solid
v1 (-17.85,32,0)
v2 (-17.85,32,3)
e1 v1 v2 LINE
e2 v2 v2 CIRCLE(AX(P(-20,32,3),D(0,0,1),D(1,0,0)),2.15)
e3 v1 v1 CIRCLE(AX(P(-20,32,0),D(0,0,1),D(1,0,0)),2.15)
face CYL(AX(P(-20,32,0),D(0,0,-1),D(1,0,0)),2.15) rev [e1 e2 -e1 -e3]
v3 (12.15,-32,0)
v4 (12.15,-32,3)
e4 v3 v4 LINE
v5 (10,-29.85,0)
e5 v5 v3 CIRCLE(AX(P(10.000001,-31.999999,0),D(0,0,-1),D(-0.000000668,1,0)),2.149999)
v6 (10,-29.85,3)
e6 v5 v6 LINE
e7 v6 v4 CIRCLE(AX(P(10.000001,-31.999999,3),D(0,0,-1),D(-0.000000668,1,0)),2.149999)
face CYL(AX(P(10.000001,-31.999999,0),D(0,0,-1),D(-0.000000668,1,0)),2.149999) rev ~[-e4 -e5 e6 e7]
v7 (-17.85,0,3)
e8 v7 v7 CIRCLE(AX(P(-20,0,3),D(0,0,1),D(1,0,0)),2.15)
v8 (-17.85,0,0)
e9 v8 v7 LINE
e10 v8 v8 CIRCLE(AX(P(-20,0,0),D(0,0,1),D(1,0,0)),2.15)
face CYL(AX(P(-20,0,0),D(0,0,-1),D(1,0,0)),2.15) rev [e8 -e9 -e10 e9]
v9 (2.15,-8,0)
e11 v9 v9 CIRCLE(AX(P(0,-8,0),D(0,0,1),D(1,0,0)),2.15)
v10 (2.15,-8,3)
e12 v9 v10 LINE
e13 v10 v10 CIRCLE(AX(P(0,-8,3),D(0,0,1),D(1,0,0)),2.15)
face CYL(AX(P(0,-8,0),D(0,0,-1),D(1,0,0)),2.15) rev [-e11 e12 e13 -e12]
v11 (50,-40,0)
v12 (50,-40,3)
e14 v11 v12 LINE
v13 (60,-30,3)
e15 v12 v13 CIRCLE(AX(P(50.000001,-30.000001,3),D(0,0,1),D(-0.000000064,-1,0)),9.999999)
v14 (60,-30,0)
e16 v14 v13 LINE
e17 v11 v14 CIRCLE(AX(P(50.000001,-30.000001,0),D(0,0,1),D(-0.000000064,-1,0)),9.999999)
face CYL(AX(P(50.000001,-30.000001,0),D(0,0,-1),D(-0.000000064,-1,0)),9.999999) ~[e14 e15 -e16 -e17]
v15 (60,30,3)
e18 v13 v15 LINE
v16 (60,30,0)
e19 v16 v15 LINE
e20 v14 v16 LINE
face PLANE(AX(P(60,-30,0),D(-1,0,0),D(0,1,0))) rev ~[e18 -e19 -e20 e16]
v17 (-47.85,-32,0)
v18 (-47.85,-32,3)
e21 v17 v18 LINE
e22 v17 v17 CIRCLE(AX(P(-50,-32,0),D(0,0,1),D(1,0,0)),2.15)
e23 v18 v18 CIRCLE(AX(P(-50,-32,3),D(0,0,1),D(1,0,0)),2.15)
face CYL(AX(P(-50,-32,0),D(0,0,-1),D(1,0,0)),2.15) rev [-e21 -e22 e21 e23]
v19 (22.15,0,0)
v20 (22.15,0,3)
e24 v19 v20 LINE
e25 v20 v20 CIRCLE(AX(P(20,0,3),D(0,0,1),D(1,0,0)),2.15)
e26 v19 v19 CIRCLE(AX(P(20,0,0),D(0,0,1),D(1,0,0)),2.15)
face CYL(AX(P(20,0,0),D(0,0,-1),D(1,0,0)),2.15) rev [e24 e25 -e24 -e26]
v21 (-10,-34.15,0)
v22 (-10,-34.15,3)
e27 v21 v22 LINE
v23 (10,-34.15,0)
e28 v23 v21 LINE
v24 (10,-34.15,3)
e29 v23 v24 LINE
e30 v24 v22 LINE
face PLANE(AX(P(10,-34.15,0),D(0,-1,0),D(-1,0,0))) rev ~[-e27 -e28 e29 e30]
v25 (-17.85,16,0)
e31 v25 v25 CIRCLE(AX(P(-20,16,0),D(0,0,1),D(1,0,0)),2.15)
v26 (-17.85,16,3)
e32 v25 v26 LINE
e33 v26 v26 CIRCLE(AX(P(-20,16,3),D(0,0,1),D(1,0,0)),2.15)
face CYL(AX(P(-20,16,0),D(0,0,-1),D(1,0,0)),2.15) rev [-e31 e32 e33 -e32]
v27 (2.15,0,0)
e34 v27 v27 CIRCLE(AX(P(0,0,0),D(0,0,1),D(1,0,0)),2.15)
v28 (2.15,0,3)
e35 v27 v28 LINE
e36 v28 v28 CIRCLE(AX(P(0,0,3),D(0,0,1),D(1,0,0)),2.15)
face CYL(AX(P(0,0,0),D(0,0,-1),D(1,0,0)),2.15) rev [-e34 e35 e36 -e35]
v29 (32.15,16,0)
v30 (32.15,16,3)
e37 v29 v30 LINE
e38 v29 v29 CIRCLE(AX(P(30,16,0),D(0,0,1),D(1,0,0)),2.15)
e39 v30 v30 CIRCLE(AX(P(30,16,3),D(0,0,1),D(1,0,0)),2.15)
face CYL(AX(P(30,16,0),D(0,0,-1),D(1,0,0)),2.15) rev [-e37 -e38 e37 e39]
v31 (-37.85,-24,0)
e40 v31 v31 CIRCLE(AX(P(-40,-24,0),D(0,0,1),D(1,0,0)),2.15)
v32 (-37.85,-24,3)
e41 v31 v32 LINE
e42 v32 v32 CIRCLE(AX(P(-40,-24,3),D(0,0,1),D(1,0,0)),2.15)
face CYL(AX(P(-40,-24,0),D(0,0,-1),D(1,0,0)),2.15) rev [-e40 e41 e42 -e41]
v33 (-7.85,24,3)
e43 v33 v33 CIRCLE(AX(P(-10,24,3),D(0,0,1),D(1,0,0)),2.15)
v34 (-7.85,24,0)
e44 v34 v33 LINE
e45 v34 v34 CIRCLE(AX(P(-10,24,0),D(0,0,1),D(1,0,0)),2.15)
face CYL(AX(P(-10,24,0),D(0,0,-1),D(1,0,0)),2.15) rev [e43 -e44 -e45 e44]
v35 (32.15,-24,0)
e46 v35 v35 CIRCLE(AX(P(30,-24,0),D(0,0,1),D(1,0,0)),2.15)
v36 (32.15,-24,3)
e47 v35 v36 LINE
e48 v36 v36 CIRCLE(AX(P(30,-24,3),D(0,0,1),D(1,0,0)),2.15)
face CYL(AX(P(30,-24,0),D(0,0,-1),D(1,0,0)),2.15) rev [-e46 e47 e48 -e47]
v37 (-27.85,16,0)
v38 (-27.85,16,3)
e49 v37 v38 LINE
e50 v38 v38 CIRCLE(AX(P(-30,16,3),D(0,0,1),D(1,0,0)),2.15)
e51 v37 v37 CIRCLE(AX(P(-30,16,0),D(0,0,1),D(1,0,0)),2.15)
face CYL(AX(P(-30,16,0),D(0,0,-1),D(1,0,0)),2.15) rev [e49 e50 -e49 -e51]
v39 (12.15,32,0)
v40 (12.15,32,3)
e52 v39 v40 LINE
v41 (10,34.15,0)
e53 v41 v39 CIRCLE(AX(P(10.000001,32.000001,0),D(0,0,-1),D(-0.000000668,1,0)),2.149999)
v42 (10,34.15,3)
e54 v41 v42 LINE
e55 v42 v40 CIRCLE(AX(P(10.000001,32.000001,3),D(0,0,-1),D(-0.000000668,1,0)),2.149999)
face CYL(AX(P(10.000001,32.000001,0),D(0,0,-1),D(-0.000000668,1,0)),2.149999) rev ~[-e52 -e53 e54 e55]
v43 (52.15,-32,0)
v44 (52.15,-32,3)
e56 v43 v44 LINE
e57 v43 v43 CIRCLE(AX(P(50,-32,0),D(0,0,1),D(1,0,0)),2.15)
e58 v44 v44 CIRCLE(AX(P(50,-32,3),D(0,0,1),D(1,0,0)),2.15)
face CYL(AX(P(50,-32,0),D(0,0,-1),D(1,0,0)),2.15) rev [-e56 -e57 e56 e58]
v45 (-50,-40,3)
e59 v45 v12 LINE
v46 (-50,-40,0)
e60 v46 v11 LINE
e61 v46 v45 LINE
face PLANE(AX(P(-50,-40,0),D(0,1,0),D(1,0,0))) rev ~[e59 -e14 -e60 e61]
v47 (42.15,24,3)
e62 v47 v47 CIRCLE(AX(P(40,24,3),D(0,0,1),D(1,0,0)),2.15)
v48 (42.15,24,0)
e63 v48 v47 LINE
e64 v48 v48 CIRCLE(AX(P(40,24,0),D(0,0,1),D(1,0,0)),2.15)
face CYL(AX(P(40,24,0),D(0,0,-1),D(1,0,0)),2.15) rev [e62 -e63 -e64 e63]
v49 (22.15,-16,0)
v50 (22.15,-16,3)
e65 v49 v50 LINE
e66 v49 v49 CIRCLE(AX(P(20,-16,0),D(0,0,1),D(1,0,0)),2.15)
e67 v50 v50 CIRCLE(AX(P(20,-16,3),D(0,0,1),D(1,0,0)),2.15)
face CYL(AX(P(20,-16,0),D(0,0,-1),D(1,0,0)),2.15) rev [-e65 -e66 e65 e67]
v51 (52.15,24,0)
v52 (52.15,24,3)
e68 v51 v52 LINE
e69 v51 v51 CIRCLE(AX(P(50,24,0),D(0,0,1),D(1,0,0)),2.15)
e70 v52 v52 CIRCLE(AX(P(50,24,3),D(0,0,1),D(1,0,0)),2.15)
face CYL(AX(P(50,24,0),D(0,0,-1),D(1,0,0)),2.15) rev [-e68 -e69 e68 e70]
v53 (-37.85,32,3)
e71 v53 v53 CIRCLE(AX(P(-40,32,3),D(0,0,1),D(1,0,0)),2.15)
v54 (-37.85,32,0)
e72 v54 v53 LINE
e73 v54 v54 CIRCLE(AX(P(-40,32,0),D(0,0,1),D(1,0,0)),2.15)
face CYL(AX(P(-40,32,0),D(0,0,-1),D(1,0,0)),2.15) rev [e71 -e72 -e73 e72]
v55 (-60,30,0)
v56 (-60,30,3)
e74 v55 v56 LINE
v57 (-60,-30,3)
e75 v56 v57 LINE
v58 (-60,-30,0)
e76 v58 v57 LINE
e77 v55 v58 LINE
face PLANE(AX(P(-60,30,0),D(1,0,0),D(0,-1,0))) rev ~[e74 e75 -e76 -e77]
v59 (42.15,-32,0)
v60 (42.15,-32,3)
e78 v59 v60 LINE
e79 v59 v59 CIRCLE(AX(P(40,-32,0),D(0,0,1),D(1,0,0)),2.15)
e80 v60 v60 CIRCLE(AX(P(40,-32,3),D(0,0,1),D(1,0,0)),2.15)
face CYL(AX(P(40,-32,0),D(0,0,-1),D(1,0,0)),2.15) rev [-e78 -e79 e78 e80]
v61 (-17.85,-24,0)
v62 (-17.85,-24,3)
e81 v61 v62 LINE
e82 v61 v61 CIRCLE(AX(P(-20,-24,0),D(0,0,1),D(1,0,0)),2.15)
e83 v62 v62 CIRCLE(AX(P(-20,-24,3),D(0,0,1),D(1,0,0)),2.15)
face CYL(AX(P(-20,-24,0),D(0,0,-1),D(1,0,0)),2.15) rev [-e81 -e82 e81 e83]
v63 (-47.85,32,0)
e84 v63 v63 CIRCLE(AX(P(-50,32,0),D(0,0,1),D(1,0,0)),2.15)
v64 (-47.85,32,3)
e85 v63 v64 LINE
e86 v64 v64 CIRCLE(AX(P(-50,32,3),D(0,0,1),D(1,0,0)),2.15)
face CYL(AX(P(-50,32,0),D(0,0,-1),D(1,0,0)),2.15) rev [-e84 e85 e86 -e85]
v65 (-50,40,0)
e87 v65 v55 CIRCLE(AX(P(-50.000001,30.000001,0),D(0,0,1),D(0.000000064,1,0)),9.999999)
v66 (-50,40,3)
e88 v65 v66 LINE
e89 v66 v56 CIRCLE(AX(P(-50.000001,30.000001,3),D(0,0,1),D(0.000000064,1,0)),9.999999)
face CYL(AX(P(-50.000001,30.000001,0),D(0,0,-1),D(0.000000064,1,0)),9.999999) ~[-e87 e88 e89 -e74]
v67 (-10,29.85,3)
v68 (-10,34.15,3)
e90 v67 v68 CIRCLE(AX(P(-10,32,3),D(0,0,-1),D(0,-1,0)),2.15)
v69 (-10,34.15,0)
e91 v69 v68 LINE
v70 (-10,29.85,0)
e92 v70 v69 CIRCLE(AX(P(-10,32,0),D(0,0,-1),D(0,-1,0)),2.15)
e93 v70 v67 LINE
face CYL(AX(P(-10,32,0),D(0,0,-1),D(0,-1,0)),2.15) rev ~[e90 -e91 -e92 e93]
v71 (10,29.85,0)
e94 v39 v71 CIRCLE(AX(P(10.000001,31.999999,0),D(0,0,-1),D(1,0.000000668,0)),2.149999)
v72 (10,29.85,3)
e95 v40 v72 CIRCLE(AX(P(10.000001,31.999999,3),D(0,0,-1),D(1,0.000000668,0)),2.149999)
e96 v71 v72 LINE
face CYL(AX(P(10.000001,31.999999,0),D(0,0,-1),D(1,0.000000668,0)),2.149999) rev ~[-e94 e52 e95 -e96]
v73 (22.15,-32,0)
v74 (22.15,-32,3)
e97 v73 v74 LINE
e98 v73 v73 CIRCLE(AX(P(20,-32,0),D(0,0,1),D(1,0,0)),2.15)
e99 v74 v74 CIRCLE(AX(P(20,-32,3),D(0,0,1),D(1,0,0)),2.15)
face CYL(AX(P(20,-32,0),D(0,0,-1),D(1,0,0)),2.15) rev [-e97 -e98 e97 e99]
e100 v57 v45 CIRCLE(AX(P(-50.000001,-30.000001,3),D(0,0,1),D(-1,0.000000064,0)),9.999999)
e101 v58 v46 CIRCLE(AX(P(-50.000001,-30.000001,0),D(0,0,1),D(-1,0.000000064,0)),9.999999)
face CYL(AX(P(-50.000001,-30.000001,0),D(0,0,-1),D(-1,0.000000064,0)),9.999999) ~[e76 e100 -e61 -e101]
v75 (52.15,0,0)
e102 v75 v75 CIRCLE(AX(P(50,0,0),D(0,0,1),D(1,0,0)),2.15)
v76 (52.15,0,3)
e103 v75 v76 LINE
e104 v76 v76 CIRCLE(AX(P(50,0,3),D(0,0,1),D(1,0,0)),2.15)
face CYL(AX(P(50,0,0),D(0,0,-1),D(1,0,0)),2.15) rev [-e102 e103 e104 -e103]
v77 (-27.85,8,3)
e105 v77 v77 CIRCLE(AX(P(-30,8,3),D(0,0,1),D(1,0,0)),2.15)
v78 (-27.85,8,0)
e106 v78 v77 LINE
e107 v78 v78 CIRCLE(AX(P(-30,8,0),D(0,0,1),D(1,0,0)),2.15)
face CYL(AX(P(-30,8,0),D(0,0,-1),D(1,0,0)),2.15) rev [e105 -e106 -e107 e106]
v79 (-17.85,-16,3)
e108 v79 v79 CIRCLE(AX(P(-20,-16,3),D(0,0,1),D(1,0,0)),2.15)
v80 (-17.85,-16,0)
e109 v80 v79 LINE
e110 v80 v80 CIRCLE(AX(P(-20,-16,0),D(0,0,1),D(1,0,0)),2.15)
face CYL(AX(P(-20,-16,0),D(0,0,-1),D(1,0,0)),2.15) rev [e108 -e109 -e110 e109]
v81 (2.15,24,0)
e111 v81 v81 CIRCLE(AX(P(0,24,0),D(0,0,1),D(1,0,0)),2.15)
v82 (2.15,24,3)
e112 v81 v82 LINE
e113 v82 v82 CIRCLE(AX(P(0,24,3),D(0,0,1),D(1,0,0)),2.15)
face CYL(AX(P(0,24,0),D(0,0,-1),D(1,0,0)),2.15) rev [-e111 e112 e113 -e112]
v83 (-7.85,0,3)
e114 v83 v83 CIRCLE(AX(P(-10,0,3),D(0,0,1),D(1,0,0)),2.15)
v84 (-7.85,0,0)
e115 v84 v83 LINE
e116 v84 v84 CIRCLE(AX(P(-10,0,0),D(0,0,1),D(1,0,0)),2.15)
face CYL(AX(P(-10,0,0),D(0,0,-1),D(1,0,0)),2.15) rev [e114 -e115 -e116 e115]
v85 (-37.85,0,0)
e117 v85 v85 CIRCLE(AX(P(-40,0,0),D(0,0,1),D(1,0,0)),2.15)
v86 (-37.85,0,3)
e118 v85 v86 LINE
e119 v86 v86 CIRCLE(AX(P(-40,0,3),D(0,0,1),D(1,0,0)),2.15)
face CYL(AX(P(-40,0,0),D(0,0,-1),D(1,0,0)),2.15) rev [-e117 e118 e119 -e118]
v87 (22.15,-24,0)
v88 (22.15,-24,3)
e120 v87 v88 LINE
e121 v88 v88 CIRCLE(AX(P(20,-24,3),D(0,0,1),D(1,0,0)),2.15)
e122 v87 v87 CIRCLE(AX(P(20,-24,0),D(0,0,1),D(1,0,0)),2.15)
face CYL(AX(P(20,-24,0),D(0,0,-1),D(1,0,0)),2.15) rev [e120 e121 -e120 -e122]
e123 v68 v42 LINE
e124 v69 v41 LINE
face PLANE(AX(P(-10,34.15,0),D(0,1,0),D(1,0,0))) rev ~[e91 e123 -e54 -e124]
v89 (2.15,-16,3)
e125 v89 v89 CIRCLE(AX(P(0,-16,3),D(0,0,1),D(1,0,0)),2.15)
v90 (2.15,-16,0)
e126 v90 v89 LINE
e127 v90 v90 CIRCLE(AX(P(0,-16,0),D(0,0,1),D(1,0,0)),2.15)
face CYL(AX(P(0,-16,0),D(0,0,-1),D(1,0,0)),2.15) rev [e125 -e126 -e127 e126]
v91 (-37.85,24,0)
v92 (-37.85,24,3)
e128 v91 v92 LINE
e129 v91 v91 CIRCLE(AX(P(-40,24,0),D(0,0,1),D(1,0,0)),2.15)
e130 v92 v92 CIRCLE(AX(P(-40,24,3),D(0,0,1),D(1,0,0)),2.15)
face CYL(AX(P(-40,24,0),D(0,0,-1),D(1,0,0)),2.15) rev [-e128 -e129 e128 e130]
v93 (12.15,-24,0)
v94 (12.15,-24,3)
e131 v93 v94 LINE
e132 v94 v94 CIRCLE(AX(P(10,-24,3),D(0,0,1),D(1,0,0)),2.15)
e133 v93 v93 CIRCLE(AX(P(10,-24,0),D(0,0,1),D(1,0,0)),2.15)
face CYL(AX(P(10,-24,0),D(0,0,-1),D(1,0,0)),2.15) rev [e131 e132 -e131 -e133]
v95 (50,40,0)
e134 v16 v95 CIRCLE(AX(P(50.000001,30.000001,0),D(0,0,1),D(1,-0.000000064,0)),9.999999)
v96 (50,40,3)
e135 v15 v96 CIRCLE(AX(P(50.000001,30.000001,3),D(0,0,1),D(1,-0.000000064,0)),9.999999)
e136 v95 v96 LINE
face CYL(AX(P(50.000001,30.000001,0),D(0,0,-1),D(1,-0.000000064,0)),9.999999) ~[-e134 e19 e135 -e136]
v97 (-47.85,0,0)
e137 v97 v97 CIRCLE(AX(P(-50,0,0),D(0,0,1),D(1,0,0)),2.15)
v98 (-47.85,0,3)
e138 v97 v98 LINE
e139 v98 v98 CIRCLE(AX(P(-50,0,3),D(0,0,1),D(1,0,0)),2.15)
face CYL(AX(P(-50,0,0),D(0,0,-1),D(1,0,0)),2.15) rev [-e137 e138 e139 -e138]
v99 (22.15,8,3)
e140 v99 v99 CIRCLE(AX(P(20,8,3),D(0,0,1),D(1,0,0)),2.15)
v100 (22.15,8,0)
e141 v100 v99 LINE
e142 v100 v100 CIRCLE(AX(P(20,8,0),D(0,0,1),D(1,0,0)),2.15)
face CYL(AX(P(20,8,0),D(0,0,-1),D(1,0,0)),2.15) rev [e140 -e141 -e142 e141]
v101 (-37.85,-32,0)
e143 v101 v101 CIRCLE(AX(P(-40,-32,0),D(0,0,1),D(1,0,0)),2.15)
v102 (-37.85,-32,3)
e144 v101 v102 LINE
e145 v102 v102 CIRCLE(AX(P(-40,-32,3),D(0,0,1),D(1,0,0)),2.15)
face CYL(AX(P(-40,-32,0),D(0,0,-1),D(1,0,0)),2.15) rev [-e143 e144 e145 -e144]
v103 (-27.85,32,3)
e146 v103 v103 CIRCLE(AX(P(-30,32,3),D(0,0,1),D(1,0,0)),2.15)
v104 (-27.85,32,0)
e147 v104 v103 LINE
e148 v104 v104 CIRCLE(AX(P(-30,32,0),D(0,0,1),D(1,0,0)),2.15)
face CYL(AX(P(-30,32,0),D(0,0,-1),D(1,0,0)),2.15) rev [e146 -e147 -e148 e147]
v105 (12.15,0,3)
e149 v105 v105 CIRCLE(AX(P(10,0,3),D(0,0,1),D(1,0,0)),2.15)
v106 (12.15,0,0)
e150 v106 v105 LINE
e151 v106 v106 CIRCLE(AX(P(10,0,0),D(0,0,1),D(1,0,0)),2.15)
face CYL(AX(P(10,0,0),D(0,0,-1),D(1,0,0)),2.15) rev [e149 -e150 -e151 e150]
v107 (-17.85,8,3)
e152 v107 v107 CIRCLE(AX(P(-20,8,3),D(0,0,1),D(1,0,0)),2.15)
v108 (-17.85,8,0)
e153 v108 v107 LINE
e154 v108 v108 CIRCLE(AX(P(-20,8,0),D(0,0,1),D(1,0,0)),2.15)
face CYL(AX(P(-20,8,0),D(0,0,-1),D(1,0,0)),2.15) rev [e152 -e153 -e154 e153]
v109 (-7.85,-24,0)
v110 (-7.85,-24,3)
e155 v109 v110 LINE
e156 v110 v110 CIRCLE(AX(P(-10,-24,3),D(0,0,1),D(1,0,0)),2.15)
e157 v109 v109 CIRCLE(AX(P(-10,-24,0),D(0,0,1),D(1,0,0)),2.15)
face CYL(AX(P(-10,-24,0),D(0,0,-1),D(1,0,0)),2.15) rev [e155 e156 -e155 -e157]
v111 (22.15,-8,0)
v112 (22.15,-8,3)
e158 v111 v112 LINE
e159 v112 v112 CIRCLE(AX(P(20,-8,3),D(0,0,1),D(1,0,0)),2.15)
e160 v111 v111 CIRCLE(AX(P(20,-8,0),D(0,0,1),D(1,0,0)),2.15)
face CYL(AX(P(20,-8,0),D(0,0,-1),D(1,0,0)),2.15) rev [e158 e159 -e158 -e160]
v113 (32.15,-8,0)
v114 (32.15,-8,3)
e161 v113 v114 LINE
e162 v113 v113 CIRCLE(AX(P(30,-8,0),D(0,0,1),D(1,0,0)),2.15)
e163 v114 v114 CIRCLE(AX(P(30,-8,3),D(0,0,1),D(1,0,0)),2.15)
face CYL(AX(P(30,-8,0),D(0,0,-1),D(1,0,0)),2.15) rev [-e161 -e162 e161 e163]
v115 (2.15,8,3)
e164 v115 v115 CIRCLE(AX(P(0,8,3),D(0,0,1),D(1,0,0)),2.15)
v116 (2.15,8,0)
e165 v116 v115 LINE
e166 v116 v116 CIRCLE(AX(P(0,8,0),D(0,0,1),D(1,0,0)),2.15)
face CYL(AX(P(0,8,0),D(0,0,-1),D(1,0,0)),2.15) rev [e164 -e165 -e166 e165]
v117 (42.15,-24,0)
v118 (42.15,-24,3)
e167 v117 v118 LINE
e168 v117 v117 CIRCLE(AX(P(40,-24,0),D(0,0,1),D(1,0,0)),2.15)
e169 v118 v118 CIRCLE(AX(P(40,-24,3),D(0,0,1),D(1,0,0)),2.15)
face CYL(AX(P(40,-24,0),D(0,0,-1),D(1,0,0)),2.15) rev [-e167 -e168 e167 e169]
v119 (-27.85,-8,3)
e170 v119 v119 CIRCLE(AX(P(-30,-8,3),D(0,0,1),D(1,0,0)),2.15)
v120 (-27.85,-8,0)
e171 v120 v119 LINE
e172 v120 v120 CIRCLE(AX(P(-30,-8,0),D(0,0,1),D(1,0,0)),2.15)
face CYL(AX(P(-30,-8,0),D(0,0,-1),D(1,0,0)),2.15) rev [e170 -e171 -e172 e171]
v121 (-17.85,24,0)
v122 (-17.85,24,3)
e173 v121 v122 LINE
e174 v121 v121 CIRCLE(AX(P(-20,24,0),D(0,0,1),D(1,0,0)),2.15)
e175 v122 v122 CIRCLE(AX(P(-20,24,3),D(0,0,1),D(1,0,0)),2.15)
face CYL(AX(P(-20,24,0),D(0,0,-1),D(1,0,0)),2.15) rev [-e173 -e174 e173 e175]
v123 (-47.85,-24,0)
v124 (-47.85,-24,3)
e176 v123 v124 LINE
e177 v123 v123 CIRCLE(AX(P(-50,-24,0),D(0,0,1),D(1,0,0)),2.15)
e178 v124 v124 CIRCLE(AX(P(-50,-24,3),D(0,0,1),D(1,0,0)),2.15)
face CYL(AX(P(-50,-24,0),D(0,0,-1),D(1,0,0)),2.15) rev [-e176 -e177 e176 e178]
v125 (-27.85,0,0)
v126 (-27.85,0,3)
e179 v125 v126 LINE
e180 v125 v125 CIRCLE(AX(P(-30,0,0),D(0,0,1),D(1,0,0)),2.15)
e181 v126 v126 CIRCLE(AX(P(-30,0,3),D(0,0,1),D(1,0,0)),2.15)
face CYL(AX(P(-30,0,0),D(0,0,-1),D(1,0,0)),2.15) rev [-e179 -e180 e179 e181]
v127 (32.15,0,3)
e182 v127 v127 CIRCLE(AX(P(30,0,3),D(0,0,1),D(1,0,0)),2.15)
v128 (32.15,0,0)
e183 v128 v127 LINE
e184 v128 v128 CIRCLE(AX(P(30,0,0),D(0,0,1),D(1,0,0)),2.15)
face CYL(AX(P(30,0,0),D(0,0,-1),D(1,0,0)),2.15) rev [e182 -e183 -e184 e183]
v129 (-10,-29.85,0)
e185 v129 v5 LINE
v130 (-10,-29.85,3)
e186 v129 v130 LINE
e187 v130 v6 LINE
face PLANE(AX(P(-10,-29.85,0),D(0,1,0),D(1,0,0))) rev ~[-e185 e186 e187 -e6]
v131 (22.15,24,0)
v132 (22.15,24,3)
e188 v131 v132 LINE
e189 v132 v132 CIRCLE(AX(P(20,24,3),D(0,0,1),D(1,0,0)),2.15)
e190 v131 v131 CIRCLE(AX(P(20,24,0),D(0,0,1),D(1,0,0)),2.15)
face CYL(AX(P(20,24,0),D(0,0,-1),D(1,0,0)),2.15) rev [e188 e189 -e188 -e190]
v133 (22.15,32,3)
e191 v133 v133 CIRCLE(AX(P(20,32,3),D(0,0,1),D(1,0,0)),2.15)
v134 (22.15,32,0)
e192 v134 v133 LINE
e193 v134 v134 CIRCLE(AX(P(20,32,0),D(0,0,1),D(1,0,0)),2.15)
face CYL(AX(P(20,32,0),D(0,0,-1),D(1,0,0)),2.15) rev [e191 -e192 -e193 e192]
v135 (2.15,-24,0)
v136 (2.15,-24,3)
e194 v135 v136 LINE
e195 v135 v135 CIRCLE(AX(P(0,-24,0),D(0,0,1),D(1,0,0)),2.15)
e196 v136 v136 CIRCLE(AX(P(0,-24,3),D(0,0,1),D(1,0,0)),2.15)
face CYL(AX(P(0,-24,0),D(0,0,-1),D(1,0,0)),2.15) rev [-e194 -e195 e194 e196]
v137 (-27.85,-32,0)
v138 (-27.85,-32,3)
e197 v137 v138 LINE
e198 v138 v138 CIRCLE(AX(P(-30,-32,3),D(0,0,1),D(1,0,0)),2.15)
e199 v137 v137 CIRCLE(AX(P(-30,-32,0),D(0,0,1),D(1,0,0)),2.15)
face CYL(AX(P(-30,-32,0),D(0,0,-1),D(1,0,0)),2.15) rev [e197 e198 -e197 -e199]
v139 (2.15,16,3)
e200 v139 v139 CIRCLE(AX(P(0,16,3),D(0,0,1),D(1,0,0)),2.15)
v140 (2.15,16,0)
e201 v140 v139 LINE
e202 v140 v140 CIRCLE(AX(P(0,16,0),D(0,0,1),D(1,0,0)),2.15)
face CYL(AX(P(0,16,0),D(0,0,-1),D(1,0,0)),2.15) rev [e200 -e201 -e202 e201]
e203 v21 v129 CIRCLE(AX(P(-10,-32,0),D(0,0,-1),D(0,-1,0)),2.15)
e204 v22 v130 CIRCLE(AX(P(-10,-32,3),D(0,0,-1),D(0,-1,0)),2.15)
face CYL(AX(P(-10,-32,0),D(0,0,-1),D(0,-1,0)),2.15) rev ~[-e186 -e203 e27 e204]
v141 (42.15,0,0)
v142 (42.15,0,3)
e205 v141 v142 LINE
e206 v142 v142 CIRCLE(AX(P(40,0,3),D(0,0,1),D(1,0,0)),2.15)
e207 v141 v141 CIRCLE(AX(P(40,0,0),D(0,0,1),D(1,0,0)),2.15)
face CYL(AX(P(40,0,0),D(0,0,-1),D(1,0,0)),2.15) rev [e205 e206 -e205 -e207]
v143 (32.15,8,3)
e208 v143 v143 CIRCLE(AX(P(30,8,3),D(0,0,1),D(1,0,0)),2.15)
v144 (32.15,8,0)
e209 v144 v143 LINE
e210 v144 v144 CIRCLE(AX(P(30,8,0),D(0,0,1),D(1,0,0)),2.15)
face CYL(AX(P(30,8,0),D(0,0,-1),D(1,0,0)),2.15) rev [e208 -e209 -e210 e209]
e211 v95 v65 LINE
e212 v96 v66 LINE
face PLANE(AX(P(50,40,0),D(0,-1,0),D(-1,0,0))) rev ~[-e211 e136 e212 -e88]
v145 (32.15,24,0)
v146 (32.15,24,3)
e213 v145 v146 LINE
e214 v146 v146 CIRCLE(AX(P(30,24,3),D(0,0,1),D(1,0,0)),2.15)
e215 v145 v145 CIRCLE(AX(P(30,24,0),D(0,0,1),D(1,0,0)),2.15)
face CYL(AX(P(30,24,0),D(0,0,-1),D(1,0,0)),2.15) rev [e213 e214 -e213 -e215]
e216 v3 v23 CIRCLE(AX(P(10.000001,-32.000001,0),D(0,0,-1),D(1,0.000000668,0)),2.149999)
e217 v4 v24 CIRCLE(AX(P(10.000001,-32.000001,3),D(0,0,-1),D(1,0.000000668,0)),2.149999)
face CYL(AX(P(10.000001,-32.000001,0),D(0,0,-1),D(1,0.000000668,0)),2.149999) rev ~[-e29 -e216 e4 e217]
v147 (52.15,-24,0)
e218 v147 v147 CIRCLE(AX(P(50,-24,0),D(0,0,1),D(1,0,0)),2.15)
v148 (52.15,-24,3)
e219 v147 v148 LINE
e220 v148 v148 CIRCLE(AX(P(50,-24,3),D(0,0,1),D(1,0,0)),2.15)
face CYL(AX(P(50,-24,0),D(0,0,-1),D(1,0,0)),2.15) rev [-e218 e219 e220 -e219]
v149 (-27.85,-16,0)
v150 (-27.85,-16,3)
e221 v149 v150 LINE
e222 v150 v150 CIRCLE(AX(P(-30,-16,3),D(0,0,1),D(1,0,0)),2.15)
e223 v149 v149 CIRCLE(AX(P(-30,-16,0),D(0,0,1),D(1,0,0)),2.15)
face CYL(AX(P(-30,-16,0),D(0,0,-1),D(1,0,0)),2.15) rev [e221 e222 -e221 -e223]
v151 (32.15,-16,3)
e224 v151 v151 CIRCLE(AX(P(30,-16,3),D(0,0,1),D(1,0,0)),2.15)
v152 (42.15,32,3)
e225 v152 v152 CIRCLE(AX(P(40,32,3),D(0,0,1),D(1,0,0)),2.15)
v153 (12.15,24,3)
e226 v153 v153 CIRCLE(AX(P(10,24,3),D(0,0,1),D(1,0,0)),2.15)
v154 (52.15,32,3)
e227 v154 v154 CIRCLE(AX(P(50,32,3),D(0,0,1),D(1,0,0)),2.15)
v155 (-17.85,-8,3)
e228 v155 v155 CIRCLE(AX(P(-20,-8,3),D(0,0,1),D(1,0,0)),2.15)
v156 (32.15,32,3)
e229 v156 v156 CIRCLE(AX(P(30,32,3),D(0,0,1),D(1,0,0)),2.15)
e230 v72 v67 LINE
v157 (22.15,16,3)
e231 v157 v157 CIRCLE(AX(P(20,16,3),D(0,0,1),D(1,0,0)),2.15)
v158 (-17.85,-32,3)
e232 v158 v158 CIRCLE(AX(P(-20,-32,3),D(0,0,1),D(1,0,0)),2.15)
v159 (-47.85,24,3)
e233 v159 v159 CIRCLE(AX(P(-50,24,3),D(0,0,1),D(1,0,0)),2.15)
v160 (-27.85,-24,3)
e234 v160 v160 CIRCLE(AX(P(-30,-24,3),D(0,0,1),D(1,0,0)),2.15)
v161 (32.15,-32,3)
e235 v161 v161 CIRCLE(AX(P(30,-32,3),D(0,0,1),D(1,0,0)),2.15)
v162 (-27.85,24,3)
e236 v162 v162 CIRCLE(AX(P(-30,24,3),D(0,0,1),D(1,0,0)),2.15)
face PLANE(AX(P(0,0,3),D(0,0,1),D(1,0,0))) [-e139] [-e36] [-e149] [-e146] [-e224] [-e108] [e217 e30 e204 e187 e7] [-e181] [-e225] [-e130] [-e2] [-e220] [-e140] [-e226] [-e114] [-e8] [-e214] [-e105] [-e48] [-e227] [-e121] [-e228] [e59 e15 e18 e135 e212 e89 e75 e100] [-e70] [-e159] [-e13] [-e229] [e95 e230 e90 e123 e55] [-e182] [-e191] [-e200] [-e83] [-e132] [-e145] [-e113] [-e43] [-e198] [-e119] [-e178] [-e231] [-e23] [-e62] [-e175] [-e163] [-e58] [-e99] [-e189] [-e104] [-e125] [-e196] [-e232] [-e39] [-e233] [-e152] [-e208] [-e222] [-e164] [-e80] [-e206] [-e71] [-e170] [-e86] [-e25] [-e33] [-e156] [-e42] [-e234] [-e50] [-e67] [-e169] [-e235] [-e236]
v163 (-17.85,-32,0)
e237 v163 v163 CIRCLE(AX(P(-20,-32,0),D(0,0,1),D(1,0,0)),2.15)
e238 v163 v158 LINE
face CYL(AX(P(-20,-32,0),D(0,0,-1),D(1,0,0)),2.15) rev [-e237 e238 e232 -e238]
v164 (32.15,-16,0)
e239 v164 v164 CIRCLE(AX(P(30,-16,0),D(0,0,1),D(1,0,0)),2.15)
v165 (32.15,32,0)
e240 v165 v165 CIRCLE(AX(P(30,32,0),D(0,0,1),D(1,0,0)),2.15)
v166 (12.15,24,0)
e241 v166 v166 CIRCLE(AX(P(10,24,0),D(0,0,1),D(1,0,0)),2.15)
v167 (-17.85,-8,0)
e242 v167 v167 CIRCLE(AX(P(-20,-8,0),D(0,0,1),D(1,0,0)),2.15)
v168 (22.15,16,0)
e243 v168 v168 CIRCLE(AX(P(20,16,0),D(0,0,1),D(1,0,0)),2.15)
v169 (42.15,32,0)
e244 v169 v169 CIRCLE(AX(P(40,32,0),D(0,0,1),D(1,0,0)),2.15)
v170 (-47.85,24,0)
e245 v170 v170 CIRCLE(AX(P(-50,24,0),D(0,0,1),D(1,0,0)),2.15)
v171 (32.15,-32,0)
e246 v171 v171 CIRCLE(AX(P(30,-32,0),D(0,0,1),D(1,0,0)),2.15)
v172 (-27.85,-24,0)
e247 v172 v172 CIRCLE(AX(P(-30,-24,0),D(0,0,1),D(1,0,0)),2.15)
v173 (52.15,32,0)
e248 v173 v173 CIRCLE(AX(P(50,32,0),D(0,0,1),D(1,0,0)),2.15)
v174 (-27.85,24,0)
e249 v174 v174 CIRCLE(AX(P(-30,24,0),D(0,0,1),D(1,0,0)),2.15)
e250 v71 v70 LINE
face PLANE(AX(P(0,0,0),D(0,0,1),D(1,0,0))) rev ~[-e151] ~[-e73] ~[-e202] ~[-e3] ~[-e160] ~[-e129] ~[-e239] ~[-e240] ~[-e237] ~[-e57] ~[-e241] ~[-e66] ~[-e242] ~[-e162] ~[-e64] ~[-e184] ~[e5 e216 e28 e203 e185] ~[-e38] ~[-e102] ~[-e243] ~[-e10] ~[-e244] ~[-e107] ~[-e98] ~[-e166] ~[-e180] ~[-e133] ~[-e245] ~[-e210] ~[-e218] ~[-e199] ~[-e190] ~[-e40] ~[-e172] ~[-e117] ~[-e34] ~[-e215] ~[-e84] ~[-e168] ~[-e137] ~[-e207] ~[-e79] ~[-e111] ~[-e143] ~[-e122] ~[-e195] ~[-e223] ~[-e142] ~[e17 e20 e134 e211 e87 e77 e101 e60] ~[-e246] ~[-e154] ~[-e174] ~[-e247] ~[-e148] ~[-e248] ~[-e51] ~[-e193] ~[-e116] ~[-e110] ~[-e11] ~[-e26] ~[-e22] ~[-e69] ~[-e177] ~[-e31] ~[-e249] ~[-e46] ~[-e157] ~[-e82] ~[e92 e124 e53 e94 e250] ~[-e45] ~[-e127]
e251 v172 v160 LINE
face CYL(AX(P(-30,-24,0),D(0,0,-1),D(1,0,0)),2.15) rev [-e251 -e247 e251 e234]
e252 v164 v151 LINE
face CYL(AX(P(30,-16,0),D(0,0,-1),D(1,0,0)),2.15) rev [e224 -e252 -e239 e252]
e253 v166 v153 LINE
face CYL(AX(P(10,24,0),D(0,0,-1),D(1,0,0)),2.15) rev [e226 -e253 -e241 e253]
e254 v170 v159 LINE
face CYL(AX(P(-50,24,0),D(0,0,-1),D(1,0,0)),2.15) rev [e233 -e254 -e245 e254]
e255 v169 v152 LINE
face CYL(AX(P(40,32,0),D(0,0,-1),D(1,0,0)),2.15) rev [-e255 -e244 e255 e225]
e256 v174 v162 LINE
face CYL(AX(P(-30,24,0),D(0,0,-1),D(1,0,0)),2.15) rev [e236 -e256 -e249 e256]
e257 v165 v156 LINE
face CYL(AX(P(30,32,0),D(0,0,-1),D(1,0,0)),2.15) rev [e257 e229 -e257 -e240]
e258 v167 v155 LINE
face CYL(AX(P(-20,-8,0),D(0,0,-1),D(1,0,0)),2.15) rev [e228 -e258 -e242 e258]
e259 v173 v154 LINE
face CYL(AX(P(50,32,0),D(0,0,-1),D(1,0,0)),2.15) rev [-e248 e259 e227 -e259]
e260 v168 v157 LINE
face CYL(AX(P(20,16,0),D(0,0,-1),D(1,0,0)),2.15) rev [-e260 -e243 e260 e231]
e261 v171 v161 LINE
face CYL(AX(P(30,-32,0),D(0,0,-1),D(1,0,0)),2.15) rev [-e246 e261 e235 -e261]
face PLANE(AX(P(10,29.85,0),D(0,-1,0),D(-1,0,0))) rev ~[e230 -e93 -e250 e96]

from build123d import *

# Parameters (mm, degrees)
F0_R     = 2.15
F1_DEPTH = 3


with BuildPart() as f1:
    # F0 (on Top) → F1 (new body)
    with BuildSketch(Plane.XY):
        with BuildLine():
            Line((-50, -40), (50, -40))
            ThreePointArc((50, -40), (57.071068, -37.071068), (60, -30))
            Line((60, -30), (60, 30))
            ThreePointArc((60, 30), (57.071068, 37.071068), (50, 40))
            Line((50, 40), (-50, 40))
            ThreePointArc((-50, 40), (-57.071068, 37.071068), (-60, 30))
            Line((-60, 30), (-60, -30))
            ThreePointArc((-60, -30), (-57.071068, -37.071068), (-50, -40))
        make_face()
        with Locations((-50, -32)):
            Circle(F0_R, mode=Mode.SUBTRACT)
        with Locations((-40, -32)):
            Circle(F0_R, mode=Mode.SUBTRACT)
        with Locations((-50, -24)):
            Circle(F0_R, mode=Mode.SUBTRACT)
        with Locations((-40, -24)):
            Circle(F0_R, mode=Mode.SUBTRACT)
        with Locations((-30, -32)):
            Circle(F0_R, mode=Mode.SUBTRACT)
        with Locations((-20, -32)):
            Circle(F0_R, mode=Mode.SUBTRACT)
        with Locations((-30, -24)):
            Circle(F0_R, mode=Mode.SUBTRACT)
        with Locations((-20, -24)):
            Circle(F0_R, mode=Mode.SUBTRACT)
        with Locations((-10, -24)):
            Circle(F0_R, mode=Mode.SUBTRACT)
        with Locations((-30, -16)):
            Circle(F0_R, mode=Mode.SUBTRACT)
        with Locations((-20, -16)):
            Circle(F0_R, mode=Mode.SUBTRACT)
        with Locations((-30, -8)):
            Circle(F0_R, mode=Mode.SUBTRACT)
        with Locations((-20, -8)):
            Circle(F0_R, mode=Mode.SUBTRACT)
        with BuildLine():
            Line((10, -34.15), (0, -34.15))
            Line((0, -34.15), (-10, -34.15))
            ThreePointArc((-10, -34.15), (-12.15, -32), (-10, -29.85))
            Line((-10, -29.85), (0, -29.85))
            Line((0, -29.85), (10, -29.85))
            ThreePointArc((10, -29.85), (11.52028, -30.47972), (12.15, -32))
            ThreePointArc((12.15, -32), (11.52028, -33.52028), (10, -34.15))
        make_face(mode=Mode.SUBTRACT)
        with Locations((20, -32)):
            Circle(F0_R, mode=Mode.SUBTRACT)
        with Locations((0, -24)):
            Circle(F0_R, mode=Mode.SUBTRACT)
        with Locations((10, -24)):
            Circle(F0_R, mode=Mode.SUBTRACT)
        with Locations((20, -24)):
            Circle(F0_R, mode=Mode.SUBTRACT)
        with Locations((30, -32)):
            Circle(F0_R, mode=Mode.SUBTRACT)
        with Locations((40, -32)):
            Circle(F0_R, mode=Mode.SUBTRACT)
        with Locations((50, -32)):
            Circle(F0_R, mode=Mode.SUBTRACT)
        with Locations((30, -24)):
            Circle(F0_R, mode=Mode.SUBTRACT)
        with Locations((40, -24)):
            Circle(F0_R, mode=Mode.SUBTRACT)
        with Locations((50, -24)):
            Circle(F0_R, mode=Mode.SUBTRACT)
        with Locations((0, -16)):
            Circle(F0_R, mode=Mode.SUBTRACT)
        with Locations((20, -16)):
            Circle(F0_R, mode=Mode.SUBTRACT)
        with Locations((0, -8)):
            Circle(F0_R, mode=Mode.SUBTRACT)
        with Locations((20, -8)):
            Circle(F0_R, mode=Mode.SUBTRACT)
        with Locations((30, -16)):
            Circle(F0_R, mode=Mode.SUBTRACT)
        with Locations((30, -8)):
            Circle(F0_R, mode=Mode.SUBTRACT)
        with Locations((-50, 0)):
            Circle(F0_R, mode=Mode.SUBTRACT)
        with Locations((-40, 0)):
            Circle(F0_R, mode=Mode.SUBTRACT)
        with Locations((-30, 0)):
            Circle(F0_R, mode=Mode.SUBTRACT)
        with Locations((-20, 0)):
            Circle(F0_R, mode=Mode.SUBTRACT)
        with Locations((-30, 8)):
            Circle(F0_R, mode=Mode.SUBTRACT)
        with Locations((-20, 8)):
            Circle(F0_R, mode=Mode.SUBTRACT)
        with Locations((-10, 0)):
            Circle(F0_R, mode=Mode.SUBTRACT)
        with Locations((-30, 16)):
            Circle(F0_R, mode=Mode.SUBTRACT)
        with Locations((-20, 16)):
            Circle(F0_R, mode=Mode.SUBTRACT)
        with Locations((-50, 24)):
            Circle(F0_R, mode=Mode.SUBTRACT)
        with Locations((-40, 24)):
            Circle(F0_R, mode=Mode.SUBTRACT)
        with Locations((-50, 32)):
            Circle(F0_R, mode=Mode.SUBTRACT)
        with Locations((-40, 32)):
            Circle(F0_R, mode=Mode.SUBTRACT)
        with Locations((-30, 24)):
            Circle(F0_R, mode=Mode.SUBTRACT)
        with Locations((-20, 24)):
            Circle(F0_R, mode=Mode.SUBTRACT)
        with Locations((-10, 24)):
            Circle(F0_R, mode=Mode.SUBTRACT)
        with Locations((-30, 32)):
            Circle(F0_R, mode=Mode.SUBTRACT)
        with Locations((-20, 32)):
            Circle(F0_R, mode=Mode.SUBTRACT)
        Circle(F0_R, mode=Mode.SUBTRACT)
        with Locations((10, 0)):
            Circle(F0_R, mode=Mode.SUBTRACT)
        with Locations((0, 8)):
            Circle(F0_R, mode=Mode.SUBTRACT)
        with Locations((20, 0)):
            Circle(F0_R, mode=Mode.SUBTRACT)
        with Locations((20, 8)):
            Circle(F0_R, mode=Mode.SUBTRACT)
        with Locations((0, 16)):
            Circle(F0_R, mode=Mode.SUBTRACT)
        with Locations((20, 16)):
            Circle(F0_R, mode=Mode.SUBTRACT)
        with Locations((30, 0)):
            Circle(F0_R, mode=Mode.SUBTRACT)
        with Locations((40, 0)):
            Circle(F0_R, mode=Mode.SUBTRACT)
        with Locations((30, 8)):
            Circle(F0_R, mode=Mode.SUBTRACT)
        with Locations((50, 0)):
            Circle(F0_R, mode=Mode.SUBTRACT)
        with Locations((30, 16)):
            Circle(F0_R, mode=Mode.SUBTRACT)
        with Locations((0, 24)):
            Circle(F0_R, mode=Mode.SUBTRACT)
        with Locations((10, 24)):
            Circle(F0_R, mode=Mode.SUBTRACT)
        with Locations((20, 24)):
            Circle(F0_R, mode=Mode.SUBTRACT)
        with BuildLine():
            Line((-10, 34.15), (0, 34.15))
            Line((0, 34.15), (10, 34.15))
            ThreePointArc((10, 34.15), (11.52028, 33.52028), (12.15, 32))
            ThreePointArc((12.15, 32), (11.52028, 30.47972), (10, 29.85))
            Line((10, 29.85), (0, 29.85))
            Line((0, 29.85), (-10, 29.85))
            ThreePointArc((-10, 29.85), (-12.15, 32), (-10, 34.15))
        make_face(mode=Mode.SUBTRACT)
        with Locations((20, 32)):
            Circle(F0_R, mode=Mode.SUBTRACT)
        with Locations((30, 24)):
            Circle(F0_R, mode=Mode.SUBTRACT)
        with Locations((40, 24)):
            Circle(F0_R, mode=Mode.SUBTRACT)
        with Locations((50, 24)):
            Circle(F0_R, mode=Mode.SUBTRACT)
        with Locations((30, 32)):
            Circle(F0_R, mode=Mode.SUBTRACT)
        with Locations((40, 32)):
            Circle(F0_R, mode=Mode.SUBTRACT)
        with Locations((50, 32)):
            Circle(F0_R, mode=Mode.SUBTRACT)
    extrude(amount=F1_DEPTH)


solid = f1.part
